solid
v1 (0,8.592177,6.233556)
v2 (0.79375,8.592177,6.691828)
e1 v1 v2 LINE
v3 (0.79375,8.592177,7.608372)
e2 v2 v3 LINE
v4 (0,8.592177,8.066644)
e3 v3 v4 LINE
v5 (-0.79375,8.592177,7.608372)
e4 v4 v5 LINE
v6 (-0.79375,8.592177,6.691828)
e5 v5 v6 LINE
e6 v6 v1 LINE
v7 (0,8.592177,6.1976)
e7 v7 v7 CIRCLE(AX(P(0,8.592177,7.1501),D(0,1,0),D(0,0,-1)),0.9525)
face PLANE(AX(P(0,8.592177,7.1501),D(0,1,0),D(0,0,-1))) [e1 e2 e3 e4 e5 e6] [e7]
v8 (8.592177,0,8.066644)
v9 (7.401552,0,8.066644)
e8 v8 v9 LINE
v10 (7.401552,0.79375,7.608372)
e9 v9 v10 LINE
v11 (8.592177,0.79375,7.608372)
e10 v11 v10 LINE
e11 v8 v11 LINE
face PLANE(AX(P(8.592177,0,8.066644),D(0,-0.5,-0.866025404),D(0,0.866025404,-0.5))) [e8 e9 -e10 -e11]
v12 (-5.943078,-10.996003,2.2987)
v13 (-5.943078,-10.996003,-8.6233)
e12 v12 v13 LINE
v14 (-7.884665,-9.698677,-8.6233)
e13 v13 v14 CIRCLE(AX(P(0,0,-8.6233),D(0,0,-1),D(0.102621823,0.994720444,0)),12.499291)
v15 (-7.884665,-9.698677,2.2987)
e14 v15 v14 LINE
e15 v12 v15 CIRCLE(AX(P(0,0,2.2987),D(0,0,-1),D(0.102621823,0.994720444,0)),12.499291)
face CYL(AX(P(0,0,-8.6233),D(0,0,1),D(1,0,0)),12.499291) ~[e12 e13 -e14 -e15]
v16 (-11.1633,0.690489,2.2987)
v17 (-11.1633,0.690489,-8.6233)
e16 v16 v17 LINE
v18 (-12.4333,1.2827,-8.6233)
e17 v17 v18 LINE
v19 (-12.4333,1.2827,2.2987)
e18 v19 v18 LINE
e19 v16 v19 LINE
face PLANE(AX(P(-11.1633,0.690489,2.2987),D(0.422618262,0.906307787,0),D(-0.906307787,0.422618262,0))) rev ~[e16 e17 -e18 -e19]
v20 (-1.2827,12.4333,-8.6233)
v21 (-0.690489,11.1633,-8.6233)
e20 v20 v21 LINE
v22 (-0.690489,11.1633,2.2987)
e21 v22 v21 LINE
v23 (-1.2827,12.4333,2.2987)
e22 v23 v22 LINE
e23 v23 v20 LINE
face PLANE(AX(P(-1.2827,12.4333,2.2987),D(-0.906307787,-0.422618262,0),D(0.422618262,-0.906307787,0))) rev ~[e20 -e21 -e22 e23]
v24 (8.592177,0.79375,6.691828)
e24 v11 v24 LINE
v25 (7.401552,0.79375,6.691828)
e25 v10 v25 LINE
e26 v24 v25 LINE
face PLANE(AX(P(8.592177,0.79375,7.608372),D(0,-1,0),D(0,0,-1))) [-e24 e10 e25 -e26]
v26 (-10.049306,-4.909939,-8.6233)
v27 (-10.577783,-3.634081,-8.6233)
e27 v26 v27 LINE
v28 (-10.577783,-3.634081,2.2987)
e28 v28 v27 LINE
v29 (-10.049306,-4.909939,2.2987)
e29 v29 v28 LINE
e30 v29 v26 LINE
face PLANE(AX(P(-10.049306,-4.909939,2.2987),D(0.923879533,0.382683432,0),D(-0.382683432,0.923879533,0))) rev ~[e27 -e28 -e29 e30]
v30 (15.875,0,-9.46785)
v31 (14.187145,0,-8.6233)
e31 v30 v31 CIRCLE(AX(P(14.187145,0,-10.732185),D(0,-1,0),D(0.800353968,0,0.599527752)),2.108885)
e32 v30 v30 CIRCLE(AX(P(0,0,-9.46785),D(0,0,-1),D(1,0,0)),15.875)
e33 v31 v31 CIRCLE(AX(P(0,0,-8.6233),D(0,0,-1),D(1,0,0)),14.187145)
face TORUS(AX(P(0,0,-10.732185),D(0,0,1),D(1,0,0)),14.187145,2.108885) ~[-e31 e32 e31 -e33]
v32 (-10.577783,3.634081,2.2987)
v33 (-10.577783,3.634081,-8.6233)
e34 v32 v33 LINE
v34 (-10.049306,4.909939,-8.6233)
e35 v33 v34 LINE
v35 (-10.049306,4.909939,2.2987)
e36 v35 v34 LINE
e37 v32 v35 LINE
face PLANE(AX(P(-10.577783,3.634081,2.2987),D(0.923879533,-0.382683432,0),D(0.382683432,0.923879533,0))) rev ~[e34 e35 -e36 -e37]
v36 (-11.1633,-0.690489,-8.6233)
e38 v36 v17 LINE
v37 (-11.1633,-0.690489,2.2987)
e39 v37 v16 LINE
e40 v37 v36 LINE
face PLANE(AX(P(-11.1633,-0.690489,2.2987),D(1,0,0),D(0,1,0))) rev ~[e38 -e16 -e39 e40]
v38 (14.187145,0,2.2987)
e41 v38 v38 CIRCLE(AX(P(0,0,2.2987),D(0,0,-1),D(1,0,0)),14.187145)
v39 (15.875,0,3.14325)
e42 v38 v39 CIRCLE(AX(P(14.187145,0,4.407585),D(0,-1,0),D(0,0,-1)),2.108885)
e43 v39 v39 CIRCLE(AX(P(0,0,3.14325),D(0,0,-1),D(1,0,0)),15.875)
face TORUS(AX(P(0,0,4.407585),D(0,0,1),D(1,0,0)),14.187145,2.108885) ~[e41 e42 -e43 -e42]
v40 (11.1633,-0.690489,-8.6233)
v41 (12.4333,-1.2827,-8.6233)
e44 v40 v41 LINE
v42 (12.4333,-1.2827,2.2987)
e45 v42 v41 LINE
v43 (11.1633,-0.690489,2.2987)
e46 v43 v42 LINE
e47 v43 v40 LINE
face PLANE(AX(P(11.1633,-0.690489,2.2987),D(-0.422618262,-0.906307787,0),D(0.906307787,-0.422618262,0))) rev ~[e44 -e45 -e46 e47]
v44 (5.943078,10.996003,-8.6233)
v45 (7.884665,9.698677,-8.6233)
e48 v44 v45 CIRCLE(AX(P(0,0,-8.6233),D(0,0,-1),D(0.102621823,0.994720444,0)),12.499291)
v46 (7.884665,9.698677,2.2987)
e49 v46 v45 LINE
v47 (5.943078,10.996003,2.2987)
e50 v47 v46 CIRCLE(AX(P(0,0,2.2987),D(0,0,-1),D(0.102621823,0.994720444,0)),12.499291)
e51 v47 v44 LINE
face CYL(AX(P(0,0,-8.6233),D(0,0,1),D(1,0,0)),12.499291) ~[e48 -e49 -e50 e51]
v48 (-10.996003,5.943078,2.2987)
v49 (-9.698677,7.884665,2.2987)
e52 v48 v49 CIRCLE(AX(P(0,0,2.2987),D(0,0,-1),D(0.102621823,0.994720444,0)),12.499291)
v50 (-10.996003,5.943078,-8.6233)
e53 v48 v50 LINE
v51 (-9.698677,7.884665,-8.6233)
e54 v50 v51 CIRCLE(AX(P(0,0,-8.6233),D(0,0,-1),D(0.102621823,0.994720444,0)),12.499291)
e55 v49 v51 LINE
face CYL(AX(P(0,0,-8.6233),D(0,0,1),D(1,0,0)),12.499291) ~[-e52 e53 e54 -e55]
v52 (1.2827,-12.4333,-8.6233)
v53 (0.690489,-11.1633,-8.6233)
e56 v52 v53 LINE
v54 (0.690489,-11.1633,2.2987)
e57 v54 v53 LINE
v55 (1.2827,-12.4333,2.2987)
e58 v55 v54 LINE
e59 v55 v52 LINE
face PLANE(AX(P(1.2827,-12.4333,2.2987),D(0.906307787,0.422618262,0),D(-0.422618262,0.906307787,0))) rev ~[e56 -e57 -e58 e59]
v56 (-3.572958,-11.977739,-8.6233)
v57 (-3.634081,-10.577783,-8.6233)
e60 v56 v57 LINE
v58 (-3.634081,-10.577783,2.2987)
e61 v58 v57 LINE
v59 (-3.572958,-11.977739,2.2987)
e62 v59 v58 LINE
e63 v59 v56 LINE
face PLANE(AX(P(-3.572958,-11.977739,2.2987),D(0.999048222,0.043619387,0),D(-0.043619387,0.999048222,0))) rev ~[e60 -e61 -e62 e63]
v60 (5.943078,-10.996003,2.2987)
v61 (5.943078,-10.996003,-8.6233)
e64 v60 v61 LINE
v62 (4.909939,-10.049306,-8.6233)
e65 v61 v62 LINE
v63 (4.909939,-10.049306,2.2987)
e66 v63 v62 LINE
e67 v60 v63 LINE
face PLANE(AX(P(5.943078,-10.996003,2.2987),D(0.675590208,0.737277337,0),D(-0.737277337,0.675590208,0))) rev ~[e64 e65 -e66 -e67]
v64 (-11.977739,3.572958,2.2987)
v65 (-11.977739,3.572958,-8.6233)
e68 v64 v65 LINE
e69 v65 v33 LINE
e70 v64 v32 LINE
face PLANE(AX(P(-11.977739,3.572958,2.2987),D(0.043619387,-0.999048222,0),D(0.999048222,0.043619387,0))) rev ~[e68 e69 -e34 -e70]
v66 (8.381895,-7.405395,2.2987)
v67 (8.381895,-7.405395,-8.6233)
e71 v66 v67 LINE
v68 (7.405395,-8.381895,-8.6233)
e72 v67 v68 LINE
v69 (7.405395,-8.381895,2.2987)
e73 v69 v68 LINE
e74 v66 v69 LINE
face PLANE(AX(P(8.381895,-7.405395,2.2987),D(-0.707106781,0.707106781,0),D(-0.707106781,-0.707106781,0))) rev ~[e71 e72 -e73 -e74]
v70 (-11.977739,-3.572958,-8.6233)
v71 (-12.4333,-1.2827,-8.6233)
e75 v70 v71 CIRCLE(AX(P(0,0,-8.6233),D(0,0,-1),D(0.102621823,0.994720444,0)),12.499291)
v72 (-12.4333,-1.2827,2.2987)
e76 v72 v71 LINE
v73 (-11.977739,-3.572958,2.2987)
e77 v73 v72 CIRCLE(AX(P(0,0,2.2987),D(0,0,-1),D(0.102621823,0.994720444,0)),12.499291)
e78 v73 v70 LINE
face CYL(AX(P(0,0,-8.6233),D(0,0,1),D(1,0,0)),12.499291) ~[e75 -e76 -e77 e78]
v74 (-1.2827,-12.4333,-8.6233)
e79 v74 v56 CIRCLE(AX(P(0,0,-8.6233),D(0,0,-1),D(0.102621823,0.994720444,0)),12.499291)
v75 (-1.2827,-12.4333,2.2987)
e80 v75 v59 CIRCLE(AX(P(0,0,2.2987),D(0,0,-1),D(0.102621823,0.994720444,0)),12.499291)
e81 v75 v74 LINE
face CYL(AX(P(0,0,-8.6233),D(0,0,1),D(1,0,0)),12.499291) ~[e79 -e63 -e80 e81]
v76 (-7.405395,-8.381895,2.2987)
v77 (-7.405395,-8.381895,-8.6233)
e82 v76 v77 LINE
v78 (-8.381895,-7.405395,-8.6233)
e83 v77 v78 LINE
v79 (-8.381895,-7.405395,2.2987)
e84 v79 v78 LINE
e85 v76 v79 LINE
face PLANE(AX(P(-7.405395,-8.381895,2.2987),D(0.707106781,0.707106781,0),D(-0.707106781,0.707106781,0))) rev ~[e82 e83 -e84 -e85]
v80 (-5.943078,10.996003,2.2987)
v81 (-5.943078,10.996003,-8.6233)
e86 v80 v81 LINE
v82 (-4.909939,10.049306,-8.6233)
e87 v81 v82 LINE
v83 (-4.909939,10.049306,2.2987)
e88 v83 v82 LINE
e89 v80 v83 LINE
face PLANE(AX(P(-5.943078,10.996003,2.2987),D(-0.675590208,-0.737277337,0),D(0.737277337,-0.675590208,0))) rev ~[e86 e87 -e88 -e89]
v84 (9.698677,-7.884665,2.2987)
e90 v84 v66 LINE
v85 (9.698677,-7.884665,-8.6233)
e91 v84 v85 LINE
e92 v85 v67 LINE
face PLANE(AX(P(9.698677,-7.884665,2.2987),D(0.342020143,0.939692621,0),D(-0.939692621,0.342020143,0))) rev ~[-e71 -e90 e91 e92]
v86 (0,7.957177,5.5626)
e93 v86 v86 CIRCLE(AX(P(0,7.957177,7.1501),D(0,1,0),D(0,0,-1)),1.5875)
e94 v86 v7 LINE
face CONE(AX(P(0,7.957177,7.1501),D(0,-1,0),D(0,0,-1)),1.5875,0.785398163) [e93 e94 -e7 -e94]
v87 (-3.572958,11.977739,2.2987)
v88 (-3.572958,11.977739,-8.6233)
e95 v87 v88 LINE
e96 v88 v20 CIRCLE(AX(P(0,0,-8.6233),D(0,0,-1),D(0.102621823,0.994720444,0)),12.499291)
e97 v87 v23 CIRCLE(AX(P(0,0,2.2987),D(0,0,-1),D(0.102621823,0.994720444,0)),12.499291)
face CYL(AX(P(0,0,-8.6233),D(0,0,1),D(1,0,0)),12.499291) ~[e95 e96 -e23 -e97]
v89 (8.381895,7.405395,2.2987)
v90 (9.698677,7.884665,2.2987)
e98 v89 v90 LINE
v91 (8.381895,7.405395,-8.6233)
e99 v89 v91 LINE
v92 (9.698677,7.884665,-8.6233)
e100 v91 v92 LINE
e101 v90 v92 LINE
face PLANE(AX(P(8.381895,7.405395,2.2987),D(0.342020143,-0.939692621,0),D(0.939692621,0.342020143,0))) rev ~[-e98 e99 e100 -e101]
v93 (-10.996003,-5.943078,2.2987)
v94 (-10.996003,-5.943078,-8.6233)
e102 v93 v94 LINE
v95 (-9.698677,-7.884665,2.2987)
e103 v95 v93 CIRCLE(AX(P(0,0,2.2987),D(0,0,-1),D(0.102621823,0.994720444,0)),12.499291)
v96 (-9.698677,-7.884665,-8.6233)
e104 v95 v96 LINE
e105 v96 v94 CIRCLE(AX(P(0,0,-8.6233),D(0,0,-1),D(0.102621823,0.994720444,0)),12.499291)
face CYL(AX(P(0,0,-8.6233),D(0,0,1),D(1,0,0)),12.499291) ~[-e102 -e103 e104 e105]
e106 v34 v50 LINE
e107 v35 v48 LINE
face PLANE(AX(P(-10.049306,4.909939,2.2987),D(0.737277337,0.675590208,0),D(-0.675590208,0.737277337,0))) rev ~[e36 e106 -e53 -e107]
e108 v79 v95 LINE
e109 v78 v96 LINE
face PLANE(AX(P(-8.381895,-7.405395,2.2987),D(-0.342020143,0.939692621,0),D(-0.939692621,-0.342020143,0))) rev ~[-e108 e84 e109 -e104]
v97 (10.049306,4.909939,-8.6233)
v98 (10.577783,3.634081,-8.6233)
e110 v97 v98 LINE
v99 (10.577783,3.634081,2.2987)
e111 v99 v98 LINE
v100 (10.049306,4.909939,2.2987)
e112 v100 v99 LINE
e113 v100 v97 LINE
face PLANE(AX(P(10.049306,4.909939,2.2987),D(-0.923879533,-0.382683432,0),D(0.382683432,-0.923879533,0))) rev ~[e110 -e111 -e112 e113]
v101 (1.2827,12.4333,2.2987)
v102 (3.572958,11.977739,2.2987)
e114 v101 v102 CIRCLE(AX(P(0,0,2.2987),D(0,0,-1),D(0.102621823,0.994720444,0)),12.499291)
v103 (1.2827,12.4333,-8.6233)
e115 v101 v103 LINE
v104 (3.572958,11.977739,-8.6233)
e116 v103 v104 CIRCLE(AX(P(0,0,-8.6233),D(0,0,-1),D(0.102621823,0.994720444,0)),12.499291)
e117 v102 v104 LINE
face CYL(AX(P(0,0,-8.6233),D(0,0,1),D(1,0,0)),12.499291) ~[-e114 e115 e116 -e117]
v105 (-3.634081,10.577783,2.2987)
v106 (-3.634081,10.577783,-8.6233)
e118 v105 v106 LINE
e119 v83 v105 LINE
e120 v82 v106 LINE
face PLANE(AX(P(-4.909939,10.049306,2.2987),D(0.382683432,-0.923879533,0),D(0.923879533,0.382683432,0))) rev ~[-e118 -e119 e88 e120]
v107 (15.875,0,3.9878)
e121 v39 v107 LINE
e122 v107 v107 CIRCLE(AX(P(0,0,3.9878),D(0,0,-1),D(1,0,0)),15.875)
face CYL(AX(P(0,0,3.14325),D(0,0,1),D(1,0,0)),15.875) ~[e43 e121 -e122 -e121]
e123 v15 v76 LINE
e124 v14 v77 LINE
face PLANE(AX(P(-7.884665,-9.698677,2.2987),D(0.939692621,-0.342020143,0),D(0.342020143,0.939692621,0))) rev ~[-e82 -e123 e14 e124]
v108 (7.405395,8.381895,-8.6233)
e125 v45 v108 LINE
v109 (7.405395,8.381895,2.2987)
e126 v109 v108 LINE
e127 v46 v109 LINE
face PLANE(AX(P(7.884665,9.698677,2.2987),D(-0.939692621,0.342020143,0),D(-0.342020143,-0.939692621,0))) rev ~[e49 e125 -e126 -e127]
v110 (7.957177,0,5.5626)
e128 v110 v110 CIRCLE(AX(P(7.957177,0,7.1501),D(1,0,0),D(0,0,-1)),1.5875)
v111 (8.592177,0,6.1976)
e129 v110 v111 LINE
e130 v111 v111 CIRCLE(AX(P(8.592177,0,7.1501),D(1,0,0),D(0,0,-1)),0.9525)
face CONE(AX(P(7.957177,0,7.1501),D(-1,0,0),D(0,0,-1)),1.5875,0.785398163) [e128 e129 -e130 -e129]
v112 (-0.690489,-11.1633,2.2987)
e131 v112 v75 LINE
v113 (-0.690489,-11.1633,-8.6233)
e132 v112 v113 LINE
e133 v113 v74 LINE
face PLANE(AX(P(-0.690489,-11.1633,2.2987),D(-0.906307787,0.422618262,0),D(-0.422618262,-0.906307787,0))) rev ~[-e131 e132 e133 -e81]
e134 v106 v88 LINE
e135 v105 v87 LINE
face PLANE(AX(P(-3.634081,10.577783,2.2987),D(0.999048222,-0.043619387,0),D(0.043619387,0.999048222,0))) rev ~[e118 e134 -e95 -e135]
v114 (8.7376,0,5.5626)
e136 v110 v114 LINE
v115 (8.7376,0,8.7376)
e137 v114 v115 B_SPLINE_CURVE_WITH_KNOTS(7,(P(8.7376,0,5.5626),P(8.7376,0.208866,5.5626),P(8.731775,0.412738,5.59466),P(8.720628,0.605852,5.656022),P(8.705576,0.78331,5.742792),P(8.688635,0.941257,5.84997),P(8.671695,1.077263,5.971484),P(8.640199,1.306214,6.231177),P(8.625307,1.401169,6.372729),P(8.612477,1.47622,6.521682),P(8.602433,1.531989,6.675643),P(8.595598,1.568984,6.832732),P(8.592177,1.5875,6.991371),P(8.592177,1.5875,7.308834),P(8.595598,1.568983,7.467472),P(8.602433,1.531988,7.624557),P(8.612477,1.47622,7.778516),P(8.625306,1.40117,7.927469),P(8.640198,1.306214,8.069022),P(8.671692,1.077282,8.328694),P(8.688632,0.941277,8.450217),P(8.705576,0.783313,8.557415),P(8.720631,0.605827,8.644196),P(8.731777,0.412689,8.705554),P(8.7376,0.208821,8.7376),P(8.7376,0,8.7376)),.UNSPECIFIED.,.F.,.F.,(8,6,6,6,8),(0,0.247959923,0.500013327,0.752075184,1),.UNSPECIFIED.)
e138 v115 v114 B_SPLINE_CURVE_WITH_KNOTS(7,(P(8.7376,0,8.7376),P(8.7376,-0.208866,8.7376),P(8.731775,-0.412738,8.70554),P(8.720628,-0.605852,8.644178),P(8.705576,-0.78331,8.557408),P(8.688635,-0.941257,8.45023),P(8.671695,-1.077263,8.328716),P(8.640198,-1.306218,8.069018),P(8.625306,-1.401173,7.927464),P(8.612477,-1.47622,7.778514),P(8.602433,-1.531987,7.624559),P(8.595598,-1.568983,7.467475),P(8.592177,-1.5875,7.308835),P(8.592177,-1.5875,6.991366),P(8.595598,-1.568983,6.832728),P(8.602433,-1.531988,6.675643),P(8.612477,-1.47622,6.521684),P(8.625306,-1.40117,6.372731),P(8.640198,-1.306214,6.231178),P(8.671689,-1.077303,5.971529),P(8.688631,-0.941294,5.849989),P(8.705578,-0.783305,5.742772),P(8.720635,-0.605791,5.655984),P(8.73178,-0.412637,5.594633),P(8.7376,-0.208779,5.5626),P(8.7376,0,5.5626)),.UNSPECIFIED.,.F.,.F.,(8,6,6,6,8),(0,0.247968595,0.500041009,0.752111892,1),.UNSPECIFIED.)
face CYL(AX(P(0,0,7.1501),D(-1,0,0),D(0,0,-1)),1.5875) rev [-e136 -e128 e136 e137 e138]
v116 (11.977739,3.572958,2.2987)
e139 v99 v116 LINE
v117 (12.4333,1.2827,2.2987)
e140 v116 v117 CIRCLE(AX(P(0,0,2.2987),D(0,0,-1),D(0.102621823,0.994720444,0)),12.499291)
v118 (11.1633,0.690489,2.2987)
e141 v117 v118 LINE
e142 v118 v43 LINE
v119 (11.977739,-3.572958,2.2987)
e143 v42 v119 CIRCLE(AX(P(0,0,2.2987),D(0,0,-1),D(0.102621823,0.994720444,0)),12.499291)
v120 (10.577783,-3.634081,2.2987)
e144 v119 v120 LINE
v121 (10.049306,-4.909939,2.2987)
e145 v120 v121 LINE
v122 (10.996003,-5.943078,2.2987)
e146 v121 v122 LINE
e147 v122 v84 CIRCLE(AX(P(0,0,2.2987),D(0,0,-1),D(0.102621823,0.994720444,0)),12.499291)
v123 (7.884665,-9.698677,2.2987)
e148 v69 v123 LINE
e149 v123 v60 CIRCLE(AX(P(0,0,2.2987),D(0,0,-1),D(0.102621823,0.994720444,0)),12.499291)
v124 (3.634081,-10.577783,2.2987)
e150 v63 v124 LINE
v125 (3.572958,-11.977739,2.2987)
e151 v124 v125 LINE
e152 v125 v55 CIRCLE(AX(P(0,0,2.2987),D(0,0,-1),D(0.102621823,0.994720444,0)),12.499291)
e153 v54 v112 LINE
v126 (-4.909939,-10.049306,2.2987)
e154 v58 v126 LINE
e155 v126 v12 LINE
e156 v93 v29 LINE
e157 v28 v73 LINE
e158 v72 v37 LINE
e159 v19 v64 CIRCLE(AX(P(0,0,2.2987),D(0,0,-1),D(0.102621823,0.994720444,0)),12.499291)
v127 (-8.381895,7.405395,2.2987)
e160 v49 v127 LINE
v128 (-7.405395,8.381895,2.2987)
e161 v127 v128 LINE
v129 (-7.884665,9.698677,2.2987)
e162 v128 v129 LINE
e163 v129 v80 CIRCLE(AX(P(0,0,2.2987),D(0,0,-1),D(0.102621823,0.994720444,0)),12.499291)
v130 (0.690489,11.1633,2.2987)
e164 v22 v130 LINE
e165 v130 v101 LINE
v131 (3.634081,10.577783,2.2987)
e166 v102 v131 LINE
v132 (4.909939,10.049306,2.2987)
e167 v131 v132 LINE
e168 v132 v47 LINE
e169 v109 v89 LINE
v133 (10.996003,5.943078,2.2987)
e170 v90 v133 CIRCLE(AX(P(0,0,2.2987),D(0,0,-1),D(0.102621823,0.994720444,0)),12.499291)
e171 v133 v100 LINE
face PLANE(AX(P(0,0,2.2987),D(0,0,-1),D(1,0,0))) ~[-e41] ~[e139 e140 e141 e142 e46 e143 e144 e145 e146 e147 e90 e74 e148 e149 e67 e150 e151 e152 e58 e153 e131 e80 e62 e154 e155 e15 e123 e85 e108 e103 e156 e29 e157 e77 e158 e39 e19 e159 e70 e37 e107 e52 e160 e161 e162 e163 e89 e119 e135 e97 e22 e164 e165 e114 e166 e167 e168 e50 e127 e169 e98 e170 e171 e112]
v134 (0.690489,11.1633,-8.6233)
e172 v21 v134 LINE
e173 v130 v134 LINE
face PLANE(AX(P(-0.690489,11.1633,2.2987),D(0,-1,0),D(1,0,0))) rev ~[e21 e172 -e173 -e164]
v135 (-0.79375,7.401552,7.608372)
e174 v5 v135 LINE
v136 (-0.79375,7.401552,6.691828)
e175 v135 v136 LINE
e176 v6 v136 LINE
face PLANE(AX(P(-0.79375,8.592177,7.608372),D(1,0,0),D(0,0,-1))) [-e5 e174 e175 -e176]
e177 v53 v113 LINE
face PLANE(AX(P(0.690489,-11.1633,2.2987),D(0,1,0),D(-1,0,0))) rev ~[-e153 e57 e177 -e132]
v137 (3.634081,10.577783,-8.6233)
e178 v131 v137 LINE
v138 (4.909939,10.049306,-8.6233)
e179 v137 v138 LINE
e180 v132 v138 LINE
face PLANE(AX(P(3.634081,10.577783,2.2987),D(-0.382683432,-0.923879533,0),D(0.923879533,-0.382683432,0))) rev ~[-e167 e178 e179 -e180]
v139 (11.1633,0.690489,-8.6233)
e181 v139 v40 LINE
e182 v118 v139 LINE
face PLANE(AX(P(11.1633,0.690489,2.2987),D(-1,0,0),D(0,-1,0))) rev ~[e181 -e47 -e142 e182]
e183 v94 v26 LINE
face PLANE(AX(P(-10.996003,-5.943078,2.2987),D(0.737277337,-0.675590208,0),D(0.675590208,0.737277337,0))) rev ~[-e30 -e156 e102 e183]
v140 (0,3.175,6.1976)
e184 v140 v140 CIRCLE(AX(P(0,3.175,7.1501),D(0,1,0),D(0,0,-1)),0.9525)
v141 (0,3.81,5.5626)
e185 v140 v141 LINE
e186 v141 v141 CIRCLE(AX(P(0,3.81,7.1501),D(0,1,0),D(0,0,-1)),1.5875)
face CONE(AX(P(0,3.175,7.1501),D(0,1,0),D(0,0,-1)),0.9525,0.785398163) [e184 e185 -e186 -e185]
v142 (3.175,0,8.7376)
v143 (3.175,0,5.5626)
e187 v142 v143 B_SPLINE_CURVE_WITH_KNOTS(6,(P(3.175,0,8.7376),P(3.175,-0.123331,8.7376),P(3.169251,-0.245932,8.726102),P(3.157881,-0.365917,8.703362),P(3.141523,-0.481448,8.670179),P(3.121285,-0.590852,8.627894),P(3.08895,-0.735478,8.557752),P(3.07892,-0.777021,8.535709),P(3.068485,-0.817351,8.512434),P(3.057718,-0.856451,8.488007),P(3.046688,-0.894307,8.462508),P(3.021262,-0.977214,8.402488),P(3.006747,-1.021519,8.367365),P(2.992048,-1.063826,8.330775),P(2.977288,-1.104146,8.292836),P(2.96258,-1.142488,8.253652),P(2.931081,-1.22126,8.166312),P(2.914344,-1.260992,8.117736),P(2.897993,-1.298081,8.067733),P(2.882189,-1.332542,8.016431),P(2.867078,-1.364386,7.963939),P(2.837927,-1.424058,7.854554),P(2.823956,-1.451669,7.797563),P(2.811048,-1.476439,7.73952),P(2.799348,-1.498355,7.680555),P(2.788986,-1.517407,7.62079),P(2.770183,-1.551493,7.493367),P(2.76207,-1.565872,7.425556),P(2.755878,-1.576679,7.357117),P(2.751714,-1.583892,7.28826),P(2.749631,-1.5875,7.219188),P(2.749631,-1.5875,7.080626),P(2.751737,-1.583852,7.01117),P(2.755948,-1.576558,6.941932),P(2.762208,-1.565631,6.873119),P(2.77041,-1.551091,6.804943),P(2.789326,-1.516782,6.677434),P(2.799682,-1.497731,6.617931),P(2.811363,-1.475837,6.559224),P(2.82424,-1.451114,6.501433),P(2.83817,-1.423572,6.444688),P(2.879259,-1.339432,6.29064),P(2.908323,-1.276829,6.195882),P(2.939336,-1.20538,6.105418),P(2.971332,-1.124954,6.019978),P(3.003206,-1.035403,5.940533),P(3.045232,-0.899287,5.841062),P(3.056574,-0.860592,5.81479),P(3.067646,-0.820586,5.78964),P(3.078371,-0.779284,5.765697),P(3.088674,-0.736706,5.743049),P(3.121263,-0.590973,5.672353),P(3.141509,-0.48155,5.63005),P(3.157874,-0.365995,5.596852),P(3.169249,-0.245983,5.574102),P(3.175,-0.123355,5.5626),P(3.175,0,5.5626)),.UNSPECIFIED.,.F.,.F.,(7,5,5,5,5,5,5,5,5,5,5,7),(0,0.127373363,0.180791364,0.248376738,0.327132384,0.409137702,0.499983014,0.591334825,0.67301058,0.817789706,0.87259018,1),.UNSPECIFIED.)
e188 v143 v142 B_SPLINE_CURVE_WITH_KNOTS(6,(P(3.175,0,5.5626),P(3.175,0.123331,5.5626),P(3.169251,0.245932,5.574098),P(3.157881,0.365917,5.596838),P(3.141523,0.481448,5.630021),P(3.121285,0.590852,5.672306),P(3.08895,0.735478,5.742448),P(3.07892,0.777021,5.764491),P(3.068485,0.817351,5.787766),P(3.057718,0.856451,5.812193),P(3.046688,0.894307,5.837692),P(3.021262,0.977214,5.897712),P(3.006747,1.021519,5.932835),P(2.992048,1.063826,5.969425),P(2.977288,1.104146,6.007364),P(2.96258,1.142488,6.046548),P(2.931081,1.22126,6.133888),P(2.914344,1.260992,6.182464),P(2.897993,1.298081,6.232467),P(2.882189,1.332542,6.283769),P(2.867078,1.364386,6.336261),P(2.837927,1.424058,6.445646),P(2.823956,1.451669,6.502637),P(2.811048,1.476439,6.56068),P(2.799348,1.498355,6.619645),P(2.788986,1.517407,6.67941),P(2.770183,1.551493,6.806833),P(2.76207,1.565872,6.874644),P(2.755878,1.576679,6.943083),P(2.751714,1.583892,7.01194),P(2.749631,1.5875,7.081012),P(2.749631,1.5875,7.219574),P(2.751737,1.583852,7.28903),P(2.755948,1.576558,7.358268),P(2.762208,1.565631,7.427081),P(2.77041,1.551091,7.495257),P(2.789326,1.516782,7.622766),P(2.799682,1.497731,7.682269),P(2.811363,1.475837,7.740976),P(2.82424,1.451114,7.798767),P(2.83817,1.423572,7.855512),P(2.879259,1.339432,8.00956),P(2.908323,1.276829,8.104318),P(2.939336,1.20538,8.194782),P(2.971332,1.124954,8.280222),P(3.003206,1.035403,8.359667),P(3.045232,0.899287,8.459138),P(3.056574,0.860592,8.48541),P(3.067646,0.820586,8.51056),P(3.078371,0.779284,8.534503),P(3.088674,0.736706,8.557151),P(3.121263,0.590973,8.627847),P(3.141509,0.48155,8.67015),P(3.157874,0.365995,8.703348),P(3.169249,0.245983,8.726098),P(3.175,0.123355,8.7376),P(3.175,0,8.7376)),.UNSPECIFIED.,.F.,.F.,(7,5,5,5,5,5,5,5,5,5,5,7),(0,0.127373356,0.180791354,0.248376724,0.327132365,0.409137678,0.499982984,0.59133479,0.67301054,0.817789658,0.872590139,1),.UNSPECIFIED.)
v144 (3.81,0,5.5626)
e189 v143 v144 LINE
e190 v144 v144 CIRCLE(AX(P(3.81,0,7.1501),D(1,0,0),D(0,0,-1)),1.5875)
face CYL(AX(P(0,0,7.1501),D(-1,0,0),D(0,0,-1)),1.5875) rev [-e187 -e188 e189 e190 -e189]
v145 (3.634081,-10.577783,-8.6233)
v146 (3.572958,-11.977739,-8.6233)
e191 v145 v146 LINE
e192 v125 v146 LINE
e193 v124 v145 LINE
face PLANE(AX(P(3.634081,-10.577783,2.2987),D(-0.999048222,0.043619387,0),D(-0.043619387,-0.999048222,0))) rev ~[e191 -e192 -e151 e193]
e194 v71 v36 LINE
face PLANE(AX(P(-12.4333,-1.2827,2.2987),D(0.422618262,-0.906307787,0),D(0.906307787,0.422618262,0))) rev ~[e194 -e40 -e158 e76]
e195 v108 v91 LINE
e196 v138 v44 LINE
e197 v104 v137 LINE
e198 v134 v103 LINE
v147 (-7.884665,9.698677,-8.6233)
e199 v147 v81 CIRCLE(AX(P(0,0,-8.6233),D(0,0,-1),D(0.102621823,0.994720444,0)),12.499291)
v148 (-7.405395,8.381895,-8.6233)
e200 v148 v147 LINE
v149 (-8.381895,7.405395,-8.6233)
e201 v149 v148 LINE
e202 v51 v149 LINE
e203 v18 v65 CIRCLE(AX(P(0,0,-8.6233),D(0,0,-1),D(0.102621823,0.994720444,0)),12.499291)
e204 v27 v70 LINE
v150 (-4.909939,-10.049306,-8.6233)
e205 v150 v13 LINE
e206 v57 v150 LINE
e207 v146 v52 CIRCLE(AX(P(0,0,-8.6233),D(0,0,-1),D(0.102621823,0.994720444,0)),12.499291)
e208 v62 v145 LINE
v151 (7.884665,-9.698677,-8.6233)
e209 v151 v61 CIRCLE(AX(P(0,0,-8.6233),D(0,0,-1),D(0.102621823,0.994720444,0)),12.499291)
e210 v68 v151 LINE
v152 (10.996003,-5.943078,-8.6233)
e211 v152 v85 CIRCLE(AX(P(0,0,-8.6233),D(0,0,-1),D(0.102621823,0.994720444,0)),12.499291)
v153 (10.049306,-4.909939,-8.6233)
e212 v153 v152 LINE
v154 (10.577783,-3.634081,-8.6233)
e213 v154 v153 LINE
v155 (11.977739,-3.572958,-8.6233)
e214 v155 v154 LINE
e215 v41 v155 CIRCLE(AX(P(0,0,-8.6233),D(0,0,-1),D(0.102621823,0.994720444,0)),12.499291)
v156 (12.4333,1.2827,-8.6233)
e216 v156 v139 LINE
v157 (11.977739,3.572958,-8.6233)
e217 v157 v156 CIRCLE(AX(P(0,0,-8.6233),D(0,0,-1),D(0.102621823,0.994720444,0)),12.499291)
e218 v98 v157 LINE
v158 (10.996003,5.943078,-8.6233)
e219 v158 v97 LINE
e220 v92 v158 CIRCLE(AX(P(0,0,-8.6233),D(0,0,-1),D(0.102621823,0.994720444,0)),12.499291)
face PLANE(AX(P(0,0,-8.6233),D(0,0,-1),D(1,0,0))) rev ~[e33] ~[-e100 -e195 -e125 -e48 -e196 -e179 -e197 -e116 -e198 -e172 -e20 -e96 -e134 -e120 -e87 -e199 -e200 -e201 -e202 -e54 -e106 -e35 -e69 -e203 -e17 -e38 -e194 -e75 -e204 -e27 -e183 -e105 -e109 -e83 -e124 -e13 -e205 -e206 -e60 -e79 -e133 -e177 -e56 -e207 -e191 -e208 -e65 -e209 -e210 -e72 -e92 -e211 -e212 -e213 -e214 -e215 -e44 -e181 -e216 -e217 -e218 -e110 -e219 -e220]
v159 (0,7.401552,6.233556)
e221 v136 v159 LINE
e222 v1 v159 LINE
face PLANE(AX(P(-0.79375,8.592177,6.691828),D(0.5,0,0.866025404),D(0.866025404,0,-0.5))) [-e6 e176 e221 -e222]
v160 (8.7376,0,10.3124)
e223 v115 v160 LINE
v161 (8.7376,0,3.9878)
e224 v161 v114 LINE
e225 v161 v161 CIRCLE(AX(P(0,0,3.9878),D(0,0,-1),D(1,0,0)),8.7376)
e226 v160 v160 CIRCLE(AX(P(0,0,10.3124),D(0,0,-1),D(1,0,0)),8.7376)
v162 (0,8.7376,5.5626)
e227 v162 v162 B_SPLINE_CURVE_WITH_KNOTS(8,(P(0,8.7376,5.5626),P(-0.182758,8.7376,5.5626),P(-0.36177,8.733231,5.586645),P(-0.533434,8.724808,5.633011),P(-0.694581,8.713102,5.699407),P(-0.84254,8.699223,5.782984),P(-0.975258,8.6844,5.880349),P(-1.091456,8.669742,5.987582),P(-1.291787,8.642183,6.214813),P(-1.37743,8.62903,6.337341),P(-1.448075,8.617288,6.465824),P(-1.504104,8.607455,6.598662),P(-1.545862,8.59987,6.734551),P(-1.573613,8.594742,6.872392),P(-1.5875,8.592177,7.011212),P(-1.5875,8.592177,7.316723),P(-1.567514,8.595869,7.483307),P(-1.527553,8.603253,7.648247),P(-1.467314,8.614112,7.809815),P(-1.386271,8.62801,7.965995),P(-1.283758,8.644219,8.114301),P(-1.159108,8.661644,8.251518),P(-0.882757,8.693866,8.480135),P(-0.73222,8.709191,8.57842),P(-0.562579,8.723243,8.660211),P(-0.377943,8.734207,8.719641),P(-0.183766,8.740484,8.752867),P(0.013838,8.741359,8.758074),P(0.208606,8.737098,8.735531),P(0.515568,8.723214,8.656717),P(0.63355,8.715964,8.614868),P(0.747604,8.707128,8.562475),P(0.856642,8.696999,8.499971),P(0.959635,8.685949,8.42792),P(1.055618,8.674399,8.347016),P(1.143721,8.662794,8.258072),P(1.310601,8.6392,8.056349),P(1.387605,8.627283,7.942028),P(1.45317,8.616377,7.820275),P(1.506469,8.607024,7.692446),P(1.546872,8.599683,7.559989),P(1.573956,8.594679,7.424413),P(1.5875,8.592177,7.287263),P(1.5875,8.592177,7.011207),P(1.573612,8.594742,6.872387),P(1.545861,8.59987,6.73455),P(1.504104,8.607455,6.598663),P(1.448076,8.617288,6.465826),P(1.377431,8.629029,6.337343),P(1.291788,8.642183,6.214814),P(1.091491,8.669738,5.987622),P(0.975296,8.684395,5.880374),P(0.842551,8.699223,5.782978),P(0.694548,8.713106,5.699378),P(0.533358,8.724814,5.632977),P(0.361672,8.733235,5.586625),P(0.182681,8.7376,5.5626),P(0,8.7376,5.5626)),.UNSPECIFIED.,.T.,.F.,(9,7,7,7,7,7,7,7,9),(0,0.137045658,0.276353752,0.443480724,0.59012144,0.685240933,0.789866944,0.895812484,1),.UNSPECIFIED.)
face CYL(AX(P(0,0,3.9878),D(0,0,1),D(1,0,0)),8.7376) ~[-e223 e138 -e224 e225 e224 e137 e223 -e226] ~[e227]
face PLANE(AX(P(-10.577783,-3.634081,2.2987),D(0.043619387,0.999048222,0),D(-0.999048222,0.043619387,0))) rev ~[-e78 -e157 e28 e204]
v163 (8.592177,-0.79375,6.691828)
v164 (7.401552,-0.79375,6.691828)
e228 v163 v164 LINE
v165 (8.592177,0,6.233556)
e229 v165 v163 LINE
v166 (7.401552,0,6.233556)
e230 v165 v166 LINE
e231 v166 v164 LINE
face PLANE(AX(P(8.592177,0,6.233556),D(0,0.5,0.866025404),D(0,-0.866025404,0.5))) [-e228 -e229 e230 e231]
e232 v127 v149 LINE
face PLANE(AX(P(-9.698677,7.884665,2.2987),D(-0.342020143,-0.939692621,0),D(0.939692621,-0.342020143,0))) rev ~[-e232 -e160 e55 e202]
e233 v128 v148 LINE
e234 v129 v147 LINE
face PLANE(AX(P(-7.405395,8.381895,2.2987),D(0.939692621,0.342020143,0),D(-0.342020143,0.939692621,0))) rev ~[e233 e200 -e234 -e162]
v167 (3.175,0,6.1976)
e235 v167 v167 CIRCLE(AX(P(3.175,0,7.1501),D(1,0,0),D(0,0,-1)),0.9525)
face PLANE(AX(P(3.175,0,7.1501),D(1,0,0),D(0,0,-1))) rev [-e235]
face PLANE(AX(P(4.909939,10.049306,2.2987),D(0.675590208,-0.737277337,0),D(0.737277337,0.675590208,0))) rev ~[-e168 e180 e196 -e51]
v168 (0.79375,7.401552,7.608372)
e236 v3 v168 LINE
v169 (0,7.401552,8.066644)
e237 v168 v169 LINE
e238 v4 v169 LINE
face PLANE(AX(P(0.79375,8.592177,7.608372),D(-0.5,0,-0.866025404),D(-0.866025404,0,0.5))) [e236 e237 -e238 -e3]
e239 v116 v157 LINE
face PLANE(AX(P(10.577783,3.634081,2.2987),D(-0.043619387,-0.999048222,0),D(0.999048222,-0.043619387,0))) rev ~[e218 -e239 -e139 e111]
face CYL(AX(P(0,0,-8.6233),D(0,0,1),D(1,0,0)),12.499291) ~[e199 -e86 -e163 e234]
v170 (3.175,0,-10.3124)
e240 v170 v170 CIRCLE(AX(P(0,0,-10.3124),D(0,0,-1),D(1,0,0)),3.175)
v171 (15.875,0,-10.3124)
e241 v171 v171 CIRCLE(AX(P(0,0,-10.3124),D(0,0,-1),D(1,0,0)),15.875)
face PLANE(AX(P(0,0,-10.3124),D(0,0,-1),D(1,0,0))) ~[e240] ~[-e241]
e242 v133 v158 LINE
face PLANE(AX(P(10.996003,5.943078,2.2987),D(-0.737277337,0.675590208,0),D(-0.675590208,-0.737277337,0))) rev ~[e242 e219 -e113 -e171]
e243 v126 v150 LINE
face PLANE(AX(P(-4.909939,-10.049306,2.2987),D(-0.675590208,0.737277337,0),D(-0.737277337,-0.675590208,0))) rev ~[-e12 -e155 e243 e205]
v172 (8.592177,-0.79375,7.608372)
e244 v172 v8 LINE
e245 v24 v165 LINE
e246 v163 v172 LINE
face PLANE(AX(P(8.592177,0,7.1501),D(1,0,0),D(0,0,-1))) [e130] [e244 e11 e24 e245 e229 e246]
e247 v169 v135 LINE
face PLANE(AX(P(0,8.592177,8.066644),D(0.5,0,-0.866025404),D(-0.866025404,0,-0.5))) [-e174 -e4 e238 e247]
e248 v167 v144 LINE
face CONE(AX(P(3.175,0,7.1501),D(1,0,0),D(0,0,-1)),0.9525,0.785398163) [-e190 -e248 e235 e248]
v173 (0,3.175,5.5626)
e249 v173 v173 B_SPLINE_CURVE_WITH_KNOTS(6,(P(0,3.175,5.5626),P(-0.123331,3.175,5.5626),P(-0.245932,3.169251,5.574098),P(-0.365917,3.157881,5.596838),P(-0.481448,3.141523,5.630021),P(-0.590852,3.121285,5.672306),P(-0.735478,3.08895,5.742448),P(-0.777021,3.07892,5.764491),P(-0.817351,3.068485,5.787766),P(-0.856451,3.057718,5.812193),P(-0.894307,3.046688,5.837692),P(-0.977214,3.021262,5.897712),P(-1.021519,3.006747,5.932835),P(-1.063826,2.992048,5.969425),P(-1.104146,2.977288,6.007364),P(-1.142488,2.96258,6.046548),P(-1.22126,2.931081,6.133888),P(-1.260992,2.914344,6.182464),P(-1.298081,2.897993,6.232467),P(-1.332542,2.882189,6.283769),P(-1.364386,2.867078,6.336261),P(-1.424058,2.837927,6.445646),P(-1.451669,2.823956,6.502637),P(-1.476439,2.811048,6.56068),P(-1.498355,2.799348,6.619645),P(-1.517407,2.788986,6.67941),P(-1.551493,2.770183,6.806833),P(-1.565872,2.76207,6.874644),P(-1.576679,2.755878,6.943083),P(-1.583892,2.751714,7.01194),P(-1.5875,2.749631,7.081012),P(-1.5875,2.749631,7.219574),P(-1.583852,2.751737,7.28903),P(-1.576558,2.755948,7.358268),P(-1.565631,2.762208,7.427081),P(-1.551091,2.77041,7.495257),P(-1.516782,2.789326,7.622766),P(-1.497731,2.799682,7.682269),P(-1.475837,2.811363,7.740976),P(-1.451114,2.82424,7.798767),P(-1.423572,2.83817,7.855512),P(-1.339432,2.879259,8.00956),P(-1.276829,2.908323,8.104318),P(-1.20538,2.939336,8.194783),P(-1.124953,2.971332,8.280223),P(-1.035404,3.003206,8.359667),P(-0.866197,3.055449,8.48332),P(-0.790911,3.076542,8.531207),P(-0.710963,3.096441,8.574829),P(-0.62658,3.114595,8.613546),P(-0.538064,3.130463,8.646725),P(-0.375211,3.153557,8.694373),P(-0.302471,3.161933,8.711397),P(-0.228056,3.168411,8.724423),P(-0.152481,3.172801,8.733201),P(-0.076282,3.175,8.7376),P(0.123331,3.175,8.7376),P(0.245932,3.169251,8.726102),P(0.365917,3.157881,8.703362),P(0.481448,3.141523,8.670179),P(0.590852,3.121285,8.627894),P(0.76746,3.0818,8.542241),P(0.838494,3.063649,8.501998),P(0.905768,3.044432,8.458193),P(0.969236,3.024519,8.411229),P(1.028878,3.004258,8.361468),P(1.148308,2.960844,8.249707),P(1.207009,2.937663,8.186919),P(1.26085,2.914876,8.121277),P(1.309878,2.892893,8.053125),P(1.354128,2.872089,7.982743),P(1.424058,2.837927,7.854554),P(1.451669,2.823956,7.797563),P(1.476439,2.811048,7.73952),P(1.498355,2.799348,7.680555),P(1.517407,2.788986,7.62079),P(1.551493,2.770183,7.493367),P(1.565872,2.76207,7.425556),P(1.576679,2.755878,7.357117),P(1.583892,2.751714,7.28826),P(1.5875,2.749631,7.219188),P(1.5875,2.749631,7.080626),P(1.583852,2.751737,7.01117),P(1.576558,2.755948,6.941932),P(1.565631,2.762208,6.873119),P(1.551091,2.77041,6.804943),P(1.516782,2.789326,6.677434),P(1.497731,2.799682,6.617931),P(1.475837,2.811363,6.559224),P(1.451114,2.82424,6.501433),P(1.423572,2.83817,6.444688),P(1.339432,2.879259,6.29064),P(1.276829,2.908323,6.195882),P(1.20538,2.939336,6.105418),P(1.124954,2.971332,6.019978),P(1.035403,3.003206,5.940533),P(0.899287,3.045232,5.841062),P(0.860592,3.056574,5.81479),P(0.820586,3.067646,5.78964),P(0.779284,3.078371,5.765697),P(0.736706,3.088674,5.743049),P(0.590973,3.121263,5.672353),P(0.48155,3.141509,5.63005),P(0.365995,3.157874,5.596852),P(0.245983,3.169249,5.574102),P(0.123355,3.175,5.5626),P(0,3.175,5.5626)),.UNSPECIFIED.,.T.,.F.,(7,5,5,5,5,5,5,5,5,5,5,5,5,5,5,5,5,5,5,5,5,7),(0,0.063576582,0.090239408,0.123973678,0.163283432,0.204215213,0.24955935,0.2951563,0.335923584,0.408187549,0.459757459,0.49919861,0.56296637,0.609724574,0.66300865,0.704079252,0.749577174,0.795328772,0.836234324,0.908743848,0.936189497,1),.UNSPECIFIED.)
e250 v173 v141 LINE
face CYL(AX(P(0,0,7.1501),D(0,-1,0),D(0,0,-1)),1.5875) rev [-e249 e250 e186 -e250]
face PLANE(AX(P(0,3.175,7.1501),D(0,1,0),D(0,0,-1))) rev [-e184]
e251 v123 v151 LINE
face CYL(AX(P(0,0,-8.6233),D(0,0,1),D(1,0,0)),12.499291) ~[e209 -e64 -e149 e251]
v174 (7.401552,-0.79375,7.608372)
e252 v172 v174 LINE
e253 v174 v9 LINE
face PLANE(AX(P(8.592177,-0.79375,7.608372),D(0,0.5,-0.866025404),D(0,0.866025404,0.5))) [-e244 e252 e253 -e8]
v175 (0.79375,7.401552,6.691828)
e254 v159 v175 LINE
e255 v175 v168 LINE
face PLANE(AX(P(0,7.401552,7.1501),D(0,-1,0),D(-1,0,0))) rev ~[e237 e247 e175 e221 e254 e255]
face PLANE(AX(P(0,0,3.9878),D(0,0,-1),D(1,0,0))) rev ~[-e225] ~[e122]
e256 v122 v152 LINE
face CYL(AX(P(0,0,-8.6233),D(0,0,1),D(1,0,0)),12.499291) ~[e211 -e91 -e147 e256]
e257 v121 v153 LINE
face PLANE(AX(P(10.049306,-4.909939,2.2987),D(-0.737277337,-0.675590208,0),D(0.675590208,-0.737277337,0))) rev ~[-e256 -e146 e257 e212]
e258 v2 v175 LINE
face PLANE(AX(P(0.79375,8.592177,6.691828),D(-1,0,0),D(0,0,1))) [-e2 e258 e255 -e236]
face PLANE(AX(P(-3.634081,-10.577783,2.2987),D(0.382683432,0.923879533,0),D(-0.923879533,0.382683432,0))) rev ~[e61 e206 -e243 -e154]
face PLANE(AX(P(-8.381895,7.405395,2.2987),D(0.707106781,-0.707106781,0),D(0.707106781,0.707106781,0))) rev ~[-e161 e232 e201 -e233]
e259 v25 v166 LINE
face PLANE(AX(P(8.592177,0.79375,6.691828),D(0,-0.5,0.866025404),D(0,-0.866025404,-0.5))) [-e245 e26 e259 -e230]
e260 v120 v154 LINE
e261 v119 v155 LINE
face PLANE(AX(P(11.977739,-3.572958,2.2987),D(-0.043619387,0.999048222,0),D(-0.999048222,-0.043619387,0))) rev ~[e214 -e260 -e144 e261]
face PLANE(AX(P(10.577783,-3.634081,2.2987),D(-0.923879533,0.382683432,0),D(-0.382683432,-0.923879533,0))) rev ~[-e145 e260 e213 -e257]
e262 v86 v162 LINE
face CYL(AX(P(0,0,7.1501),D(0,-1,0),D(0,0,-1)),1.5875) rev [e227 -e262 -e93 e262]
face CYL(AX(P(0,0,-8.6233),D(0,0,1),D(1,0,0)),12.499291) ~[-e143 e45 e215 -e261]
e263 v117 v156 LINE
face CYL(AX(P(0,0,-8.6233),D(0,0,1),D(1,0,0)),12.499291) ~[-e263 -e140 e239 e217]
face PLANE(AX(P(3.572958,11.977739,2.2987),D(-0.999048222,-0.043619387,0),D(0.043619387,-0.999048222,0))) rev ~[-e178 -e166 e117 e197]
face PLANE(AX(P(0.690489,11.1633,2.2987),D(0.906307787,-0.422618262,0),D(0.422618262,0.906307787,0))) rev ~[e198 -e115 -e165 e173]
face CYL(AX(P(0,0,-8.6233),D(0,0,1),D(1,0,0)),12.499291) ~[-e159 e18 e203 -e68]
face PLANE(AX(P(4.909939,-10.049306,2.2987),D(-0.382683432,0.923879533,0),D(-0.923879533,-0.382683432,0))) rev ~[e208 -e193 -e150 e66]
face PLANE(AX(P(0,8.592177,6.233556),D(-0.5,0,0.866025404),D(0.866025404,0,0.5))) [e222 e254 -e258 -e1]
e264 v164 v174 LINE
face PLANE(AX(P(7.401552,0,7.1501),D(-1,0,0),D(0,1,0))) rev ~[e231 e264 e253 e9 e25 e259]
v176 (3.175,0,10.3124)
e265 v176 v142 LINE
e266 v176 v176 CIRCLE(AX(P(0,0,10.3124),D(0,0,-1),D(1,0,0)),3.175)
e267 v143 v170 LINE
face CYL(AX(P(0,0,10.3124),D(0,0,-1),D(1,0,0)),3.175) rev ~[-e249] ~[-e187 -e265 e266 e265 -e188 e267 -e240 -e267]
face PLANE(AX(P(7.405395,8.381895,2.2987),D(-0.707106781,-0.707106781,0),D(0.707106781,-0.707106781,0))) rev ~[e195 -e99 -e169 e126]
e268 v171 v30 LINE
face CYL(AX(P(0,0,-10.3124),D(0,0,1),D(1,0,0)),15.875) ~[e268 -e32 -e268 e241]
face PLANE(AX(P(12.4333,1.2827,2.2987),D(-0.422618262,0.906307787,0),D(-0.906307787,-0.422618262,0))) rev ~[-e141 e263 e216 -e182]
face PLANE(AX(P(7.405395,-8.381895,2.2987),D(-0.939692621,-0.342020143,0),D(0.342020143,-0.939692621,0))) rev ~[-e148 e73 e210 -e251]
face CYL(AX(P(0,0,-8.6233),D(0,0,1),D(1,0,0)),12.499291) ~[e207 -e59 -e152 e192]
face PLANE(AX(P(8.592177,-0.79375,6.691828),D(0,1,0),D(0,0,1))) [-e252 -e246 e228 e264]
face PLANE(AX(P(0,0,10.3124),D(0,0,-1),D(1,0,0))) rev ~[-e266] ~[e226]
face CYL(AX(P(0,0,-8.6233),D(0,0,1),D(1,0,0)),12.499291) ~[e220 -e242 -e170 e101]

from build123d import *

# Parameters (mm, degrees)
CUT_EXTRUDE1_START = 2.2987
CUT_EXTRUDE1_DEPTH = 10.922
CIRPATTERN1_COUNT  = 16
SKETCH4_R          = 1.5875
CUT_EXTRUDE2_DEPTH = 25.705805871
CUT_EXTRUDE3_DEPTH = 1.190625
CIRPATTERN2_COUNT  = 2
CIRPATTERN2_ANGLE  = 90


with BuildPart() as part:
    # Sketch2 → Revolve1 (revolve)
    with BuildSketch(Plane(origin=(0, 0, 0), x_dir=(0, 0, -1), z_dir=(1, 0, 0)), mode=Mode.PRIVATE) as revolve1_sk:
        with BuildLine():
            Line((-10.3124, 3.175), (10.3124, 3.175))
            Line((10.3124, 3.175), (10.3124, 15.875))
            Line((10.3124, 15.875), (9.46785, 15.875))
            ThreePointArc((9.46785, 15.875), (8.846219323, 15.130824061), (8.6233, 14.187145354))
            Line((8.6233, 14.187145354), (8.6233, 12.499290707))
            Line((8.6233, 12.499290707), (-2.2987, 12.499290707))
            Line((-2.2987, 12.499290707), (-2.2987, 14.187145354))
            ThreePointArc((-2.2987, 14.187145354), (-2.521619323, 15.130824061), (-3.14325, 15.875))
            Line((-3.14325, 15.875), (-3.9878, 15.875))
            Line((-3.9878, 15.875), (-3.9878, 8.7376))
            Line((-3.9878, 8.7376), (-10.3124, 8.7376))
            Line((-10.3124, 8.7376), (-10.3124, 3.175))
        make_face()
    revolve(revolve1_sk.sketch.rotate(Axis((0, 0, 10.3124), (0, 0, -1)), 90), axis=Axis((0, 0, 10.3124), (0, 0, -1)))

    # Sketch3 → Cut-Extrude1 (cut)
    with BuildSketch(Plane.XY.offset(CUT_EXTRUDE1_START)):
        with BuildLine():
            Line((-0.690489274, 11.1633), (0.690489274, 11.1633))
            Line((0.690489274, 11.1633), (1.2827, 12.4333))
            ThreePointArc((1.2827, 12.4333), (0, 12.499290707), (-1.2827, 12.4333))
            Line((-1.2827, 12.4333), (-0.690489274, 11.1633))
        make_face()
    cut_extrude1 = extrude(amount=-CUT_EXTRUDE1_DEPTH, mode=Mode.SUBTRACT)

    # CirPattern1: Cut-Extrude1 ×16 about axis
    cirpattern1_axis = Axis((0, 0, 0), (0, 0, 1))
    for i in range(1, CIRPATTERN1_COUNT):
        add(cut_extrude1.rotate(cirpattern1_axis, i * 360 / CIRPATTERN1_COUNT), mode=Mode.SUBTRACT)

    # Sketch4 → Cut-Extrude2 (cut, through all)
    with BuildSketch(Plane(origin=(0, 0, 0), x_dir=(1, 0, 0), z_dir=(0, 1, 0))):
        with Locations(Location((0, -7.1501, 0), (0, 0, 90))):
            Circle(SKETCH4_R)
    cut_extrude2 = extrude(amount=CUT_EXTRUDE2_DEPTH, mode=Mode.SUBTRACT)

    # Sketch5 → Revolve2 (revolve)
    with BuildSketch(Plane.XY.offset(7.1501), mode=Mode.PRIVATE) as revolve2_sk:
        Polygon((0, 8.592176529), (0, 3.175), (-0.9525, 3.175), (-1.5875, 3.81), (-1.5875, 7.957176529), (-0.9525, 8.592176529), align=None)
    revolve2 = revolve(revolve2_sk.sketch.rotate(Axis((0, 0, 7.1501), (0, 1, 0)), 270), axis=Axis((0, 0, 7.1501), (0, 1, 0)))

    # Sketch6 → Cut-Extrude3 (cut)
    with BuildSketch(Plane(origin=(0, 8.592176529, 0), x_dir=(-1, 0, 0), z_dir=(0, -1, 0))):
        Polygon((0, -6.233556448), (-0.79375, -6.691828224), (-0.79375, -7.608371776), (0, -8.066643552), (0.79375, -7.608371776), (0.79375, -6.691828224), align=None)
    cut_extrude3 = extrude(amount=CUT_EXTRUDE3_DEPTH, mode=Mode.SUBTRACT)

    # CirPattern2: Cut-Extrude2, Revolve2, Cut-Extrude3 ×2 about axis
    cirpattern2_axis = Axis((0, 0, 0), (0, 0, -1))
    add([cut_extrude2.rotate(cirpattern2_axis, i * CIRPATTERN2_ANGLE / (CIRPATTERN2_COUNT - 1)) for i in range(1, CIRPATTERN2_COUNT)], mode=Mode.SUBTRACT)
    add([revolve2.rotate(cirpattern2_axis, i * CIRPATTERN2_ANGLE / (CIRPATTERN2_COUNT - 1)) for i in range(1, CIRPATTERN2_COUNT)])
    add([cut_extrude3.rotate(cirpattern2_axis, i * CIRPATTERN2_ANGLE / (CIRPATTERN2_COUNT - 1)) for i in range(1, CIRPATTERN2_COUNT)], mode=Mode.SUBTRACT)


solid = part.part
